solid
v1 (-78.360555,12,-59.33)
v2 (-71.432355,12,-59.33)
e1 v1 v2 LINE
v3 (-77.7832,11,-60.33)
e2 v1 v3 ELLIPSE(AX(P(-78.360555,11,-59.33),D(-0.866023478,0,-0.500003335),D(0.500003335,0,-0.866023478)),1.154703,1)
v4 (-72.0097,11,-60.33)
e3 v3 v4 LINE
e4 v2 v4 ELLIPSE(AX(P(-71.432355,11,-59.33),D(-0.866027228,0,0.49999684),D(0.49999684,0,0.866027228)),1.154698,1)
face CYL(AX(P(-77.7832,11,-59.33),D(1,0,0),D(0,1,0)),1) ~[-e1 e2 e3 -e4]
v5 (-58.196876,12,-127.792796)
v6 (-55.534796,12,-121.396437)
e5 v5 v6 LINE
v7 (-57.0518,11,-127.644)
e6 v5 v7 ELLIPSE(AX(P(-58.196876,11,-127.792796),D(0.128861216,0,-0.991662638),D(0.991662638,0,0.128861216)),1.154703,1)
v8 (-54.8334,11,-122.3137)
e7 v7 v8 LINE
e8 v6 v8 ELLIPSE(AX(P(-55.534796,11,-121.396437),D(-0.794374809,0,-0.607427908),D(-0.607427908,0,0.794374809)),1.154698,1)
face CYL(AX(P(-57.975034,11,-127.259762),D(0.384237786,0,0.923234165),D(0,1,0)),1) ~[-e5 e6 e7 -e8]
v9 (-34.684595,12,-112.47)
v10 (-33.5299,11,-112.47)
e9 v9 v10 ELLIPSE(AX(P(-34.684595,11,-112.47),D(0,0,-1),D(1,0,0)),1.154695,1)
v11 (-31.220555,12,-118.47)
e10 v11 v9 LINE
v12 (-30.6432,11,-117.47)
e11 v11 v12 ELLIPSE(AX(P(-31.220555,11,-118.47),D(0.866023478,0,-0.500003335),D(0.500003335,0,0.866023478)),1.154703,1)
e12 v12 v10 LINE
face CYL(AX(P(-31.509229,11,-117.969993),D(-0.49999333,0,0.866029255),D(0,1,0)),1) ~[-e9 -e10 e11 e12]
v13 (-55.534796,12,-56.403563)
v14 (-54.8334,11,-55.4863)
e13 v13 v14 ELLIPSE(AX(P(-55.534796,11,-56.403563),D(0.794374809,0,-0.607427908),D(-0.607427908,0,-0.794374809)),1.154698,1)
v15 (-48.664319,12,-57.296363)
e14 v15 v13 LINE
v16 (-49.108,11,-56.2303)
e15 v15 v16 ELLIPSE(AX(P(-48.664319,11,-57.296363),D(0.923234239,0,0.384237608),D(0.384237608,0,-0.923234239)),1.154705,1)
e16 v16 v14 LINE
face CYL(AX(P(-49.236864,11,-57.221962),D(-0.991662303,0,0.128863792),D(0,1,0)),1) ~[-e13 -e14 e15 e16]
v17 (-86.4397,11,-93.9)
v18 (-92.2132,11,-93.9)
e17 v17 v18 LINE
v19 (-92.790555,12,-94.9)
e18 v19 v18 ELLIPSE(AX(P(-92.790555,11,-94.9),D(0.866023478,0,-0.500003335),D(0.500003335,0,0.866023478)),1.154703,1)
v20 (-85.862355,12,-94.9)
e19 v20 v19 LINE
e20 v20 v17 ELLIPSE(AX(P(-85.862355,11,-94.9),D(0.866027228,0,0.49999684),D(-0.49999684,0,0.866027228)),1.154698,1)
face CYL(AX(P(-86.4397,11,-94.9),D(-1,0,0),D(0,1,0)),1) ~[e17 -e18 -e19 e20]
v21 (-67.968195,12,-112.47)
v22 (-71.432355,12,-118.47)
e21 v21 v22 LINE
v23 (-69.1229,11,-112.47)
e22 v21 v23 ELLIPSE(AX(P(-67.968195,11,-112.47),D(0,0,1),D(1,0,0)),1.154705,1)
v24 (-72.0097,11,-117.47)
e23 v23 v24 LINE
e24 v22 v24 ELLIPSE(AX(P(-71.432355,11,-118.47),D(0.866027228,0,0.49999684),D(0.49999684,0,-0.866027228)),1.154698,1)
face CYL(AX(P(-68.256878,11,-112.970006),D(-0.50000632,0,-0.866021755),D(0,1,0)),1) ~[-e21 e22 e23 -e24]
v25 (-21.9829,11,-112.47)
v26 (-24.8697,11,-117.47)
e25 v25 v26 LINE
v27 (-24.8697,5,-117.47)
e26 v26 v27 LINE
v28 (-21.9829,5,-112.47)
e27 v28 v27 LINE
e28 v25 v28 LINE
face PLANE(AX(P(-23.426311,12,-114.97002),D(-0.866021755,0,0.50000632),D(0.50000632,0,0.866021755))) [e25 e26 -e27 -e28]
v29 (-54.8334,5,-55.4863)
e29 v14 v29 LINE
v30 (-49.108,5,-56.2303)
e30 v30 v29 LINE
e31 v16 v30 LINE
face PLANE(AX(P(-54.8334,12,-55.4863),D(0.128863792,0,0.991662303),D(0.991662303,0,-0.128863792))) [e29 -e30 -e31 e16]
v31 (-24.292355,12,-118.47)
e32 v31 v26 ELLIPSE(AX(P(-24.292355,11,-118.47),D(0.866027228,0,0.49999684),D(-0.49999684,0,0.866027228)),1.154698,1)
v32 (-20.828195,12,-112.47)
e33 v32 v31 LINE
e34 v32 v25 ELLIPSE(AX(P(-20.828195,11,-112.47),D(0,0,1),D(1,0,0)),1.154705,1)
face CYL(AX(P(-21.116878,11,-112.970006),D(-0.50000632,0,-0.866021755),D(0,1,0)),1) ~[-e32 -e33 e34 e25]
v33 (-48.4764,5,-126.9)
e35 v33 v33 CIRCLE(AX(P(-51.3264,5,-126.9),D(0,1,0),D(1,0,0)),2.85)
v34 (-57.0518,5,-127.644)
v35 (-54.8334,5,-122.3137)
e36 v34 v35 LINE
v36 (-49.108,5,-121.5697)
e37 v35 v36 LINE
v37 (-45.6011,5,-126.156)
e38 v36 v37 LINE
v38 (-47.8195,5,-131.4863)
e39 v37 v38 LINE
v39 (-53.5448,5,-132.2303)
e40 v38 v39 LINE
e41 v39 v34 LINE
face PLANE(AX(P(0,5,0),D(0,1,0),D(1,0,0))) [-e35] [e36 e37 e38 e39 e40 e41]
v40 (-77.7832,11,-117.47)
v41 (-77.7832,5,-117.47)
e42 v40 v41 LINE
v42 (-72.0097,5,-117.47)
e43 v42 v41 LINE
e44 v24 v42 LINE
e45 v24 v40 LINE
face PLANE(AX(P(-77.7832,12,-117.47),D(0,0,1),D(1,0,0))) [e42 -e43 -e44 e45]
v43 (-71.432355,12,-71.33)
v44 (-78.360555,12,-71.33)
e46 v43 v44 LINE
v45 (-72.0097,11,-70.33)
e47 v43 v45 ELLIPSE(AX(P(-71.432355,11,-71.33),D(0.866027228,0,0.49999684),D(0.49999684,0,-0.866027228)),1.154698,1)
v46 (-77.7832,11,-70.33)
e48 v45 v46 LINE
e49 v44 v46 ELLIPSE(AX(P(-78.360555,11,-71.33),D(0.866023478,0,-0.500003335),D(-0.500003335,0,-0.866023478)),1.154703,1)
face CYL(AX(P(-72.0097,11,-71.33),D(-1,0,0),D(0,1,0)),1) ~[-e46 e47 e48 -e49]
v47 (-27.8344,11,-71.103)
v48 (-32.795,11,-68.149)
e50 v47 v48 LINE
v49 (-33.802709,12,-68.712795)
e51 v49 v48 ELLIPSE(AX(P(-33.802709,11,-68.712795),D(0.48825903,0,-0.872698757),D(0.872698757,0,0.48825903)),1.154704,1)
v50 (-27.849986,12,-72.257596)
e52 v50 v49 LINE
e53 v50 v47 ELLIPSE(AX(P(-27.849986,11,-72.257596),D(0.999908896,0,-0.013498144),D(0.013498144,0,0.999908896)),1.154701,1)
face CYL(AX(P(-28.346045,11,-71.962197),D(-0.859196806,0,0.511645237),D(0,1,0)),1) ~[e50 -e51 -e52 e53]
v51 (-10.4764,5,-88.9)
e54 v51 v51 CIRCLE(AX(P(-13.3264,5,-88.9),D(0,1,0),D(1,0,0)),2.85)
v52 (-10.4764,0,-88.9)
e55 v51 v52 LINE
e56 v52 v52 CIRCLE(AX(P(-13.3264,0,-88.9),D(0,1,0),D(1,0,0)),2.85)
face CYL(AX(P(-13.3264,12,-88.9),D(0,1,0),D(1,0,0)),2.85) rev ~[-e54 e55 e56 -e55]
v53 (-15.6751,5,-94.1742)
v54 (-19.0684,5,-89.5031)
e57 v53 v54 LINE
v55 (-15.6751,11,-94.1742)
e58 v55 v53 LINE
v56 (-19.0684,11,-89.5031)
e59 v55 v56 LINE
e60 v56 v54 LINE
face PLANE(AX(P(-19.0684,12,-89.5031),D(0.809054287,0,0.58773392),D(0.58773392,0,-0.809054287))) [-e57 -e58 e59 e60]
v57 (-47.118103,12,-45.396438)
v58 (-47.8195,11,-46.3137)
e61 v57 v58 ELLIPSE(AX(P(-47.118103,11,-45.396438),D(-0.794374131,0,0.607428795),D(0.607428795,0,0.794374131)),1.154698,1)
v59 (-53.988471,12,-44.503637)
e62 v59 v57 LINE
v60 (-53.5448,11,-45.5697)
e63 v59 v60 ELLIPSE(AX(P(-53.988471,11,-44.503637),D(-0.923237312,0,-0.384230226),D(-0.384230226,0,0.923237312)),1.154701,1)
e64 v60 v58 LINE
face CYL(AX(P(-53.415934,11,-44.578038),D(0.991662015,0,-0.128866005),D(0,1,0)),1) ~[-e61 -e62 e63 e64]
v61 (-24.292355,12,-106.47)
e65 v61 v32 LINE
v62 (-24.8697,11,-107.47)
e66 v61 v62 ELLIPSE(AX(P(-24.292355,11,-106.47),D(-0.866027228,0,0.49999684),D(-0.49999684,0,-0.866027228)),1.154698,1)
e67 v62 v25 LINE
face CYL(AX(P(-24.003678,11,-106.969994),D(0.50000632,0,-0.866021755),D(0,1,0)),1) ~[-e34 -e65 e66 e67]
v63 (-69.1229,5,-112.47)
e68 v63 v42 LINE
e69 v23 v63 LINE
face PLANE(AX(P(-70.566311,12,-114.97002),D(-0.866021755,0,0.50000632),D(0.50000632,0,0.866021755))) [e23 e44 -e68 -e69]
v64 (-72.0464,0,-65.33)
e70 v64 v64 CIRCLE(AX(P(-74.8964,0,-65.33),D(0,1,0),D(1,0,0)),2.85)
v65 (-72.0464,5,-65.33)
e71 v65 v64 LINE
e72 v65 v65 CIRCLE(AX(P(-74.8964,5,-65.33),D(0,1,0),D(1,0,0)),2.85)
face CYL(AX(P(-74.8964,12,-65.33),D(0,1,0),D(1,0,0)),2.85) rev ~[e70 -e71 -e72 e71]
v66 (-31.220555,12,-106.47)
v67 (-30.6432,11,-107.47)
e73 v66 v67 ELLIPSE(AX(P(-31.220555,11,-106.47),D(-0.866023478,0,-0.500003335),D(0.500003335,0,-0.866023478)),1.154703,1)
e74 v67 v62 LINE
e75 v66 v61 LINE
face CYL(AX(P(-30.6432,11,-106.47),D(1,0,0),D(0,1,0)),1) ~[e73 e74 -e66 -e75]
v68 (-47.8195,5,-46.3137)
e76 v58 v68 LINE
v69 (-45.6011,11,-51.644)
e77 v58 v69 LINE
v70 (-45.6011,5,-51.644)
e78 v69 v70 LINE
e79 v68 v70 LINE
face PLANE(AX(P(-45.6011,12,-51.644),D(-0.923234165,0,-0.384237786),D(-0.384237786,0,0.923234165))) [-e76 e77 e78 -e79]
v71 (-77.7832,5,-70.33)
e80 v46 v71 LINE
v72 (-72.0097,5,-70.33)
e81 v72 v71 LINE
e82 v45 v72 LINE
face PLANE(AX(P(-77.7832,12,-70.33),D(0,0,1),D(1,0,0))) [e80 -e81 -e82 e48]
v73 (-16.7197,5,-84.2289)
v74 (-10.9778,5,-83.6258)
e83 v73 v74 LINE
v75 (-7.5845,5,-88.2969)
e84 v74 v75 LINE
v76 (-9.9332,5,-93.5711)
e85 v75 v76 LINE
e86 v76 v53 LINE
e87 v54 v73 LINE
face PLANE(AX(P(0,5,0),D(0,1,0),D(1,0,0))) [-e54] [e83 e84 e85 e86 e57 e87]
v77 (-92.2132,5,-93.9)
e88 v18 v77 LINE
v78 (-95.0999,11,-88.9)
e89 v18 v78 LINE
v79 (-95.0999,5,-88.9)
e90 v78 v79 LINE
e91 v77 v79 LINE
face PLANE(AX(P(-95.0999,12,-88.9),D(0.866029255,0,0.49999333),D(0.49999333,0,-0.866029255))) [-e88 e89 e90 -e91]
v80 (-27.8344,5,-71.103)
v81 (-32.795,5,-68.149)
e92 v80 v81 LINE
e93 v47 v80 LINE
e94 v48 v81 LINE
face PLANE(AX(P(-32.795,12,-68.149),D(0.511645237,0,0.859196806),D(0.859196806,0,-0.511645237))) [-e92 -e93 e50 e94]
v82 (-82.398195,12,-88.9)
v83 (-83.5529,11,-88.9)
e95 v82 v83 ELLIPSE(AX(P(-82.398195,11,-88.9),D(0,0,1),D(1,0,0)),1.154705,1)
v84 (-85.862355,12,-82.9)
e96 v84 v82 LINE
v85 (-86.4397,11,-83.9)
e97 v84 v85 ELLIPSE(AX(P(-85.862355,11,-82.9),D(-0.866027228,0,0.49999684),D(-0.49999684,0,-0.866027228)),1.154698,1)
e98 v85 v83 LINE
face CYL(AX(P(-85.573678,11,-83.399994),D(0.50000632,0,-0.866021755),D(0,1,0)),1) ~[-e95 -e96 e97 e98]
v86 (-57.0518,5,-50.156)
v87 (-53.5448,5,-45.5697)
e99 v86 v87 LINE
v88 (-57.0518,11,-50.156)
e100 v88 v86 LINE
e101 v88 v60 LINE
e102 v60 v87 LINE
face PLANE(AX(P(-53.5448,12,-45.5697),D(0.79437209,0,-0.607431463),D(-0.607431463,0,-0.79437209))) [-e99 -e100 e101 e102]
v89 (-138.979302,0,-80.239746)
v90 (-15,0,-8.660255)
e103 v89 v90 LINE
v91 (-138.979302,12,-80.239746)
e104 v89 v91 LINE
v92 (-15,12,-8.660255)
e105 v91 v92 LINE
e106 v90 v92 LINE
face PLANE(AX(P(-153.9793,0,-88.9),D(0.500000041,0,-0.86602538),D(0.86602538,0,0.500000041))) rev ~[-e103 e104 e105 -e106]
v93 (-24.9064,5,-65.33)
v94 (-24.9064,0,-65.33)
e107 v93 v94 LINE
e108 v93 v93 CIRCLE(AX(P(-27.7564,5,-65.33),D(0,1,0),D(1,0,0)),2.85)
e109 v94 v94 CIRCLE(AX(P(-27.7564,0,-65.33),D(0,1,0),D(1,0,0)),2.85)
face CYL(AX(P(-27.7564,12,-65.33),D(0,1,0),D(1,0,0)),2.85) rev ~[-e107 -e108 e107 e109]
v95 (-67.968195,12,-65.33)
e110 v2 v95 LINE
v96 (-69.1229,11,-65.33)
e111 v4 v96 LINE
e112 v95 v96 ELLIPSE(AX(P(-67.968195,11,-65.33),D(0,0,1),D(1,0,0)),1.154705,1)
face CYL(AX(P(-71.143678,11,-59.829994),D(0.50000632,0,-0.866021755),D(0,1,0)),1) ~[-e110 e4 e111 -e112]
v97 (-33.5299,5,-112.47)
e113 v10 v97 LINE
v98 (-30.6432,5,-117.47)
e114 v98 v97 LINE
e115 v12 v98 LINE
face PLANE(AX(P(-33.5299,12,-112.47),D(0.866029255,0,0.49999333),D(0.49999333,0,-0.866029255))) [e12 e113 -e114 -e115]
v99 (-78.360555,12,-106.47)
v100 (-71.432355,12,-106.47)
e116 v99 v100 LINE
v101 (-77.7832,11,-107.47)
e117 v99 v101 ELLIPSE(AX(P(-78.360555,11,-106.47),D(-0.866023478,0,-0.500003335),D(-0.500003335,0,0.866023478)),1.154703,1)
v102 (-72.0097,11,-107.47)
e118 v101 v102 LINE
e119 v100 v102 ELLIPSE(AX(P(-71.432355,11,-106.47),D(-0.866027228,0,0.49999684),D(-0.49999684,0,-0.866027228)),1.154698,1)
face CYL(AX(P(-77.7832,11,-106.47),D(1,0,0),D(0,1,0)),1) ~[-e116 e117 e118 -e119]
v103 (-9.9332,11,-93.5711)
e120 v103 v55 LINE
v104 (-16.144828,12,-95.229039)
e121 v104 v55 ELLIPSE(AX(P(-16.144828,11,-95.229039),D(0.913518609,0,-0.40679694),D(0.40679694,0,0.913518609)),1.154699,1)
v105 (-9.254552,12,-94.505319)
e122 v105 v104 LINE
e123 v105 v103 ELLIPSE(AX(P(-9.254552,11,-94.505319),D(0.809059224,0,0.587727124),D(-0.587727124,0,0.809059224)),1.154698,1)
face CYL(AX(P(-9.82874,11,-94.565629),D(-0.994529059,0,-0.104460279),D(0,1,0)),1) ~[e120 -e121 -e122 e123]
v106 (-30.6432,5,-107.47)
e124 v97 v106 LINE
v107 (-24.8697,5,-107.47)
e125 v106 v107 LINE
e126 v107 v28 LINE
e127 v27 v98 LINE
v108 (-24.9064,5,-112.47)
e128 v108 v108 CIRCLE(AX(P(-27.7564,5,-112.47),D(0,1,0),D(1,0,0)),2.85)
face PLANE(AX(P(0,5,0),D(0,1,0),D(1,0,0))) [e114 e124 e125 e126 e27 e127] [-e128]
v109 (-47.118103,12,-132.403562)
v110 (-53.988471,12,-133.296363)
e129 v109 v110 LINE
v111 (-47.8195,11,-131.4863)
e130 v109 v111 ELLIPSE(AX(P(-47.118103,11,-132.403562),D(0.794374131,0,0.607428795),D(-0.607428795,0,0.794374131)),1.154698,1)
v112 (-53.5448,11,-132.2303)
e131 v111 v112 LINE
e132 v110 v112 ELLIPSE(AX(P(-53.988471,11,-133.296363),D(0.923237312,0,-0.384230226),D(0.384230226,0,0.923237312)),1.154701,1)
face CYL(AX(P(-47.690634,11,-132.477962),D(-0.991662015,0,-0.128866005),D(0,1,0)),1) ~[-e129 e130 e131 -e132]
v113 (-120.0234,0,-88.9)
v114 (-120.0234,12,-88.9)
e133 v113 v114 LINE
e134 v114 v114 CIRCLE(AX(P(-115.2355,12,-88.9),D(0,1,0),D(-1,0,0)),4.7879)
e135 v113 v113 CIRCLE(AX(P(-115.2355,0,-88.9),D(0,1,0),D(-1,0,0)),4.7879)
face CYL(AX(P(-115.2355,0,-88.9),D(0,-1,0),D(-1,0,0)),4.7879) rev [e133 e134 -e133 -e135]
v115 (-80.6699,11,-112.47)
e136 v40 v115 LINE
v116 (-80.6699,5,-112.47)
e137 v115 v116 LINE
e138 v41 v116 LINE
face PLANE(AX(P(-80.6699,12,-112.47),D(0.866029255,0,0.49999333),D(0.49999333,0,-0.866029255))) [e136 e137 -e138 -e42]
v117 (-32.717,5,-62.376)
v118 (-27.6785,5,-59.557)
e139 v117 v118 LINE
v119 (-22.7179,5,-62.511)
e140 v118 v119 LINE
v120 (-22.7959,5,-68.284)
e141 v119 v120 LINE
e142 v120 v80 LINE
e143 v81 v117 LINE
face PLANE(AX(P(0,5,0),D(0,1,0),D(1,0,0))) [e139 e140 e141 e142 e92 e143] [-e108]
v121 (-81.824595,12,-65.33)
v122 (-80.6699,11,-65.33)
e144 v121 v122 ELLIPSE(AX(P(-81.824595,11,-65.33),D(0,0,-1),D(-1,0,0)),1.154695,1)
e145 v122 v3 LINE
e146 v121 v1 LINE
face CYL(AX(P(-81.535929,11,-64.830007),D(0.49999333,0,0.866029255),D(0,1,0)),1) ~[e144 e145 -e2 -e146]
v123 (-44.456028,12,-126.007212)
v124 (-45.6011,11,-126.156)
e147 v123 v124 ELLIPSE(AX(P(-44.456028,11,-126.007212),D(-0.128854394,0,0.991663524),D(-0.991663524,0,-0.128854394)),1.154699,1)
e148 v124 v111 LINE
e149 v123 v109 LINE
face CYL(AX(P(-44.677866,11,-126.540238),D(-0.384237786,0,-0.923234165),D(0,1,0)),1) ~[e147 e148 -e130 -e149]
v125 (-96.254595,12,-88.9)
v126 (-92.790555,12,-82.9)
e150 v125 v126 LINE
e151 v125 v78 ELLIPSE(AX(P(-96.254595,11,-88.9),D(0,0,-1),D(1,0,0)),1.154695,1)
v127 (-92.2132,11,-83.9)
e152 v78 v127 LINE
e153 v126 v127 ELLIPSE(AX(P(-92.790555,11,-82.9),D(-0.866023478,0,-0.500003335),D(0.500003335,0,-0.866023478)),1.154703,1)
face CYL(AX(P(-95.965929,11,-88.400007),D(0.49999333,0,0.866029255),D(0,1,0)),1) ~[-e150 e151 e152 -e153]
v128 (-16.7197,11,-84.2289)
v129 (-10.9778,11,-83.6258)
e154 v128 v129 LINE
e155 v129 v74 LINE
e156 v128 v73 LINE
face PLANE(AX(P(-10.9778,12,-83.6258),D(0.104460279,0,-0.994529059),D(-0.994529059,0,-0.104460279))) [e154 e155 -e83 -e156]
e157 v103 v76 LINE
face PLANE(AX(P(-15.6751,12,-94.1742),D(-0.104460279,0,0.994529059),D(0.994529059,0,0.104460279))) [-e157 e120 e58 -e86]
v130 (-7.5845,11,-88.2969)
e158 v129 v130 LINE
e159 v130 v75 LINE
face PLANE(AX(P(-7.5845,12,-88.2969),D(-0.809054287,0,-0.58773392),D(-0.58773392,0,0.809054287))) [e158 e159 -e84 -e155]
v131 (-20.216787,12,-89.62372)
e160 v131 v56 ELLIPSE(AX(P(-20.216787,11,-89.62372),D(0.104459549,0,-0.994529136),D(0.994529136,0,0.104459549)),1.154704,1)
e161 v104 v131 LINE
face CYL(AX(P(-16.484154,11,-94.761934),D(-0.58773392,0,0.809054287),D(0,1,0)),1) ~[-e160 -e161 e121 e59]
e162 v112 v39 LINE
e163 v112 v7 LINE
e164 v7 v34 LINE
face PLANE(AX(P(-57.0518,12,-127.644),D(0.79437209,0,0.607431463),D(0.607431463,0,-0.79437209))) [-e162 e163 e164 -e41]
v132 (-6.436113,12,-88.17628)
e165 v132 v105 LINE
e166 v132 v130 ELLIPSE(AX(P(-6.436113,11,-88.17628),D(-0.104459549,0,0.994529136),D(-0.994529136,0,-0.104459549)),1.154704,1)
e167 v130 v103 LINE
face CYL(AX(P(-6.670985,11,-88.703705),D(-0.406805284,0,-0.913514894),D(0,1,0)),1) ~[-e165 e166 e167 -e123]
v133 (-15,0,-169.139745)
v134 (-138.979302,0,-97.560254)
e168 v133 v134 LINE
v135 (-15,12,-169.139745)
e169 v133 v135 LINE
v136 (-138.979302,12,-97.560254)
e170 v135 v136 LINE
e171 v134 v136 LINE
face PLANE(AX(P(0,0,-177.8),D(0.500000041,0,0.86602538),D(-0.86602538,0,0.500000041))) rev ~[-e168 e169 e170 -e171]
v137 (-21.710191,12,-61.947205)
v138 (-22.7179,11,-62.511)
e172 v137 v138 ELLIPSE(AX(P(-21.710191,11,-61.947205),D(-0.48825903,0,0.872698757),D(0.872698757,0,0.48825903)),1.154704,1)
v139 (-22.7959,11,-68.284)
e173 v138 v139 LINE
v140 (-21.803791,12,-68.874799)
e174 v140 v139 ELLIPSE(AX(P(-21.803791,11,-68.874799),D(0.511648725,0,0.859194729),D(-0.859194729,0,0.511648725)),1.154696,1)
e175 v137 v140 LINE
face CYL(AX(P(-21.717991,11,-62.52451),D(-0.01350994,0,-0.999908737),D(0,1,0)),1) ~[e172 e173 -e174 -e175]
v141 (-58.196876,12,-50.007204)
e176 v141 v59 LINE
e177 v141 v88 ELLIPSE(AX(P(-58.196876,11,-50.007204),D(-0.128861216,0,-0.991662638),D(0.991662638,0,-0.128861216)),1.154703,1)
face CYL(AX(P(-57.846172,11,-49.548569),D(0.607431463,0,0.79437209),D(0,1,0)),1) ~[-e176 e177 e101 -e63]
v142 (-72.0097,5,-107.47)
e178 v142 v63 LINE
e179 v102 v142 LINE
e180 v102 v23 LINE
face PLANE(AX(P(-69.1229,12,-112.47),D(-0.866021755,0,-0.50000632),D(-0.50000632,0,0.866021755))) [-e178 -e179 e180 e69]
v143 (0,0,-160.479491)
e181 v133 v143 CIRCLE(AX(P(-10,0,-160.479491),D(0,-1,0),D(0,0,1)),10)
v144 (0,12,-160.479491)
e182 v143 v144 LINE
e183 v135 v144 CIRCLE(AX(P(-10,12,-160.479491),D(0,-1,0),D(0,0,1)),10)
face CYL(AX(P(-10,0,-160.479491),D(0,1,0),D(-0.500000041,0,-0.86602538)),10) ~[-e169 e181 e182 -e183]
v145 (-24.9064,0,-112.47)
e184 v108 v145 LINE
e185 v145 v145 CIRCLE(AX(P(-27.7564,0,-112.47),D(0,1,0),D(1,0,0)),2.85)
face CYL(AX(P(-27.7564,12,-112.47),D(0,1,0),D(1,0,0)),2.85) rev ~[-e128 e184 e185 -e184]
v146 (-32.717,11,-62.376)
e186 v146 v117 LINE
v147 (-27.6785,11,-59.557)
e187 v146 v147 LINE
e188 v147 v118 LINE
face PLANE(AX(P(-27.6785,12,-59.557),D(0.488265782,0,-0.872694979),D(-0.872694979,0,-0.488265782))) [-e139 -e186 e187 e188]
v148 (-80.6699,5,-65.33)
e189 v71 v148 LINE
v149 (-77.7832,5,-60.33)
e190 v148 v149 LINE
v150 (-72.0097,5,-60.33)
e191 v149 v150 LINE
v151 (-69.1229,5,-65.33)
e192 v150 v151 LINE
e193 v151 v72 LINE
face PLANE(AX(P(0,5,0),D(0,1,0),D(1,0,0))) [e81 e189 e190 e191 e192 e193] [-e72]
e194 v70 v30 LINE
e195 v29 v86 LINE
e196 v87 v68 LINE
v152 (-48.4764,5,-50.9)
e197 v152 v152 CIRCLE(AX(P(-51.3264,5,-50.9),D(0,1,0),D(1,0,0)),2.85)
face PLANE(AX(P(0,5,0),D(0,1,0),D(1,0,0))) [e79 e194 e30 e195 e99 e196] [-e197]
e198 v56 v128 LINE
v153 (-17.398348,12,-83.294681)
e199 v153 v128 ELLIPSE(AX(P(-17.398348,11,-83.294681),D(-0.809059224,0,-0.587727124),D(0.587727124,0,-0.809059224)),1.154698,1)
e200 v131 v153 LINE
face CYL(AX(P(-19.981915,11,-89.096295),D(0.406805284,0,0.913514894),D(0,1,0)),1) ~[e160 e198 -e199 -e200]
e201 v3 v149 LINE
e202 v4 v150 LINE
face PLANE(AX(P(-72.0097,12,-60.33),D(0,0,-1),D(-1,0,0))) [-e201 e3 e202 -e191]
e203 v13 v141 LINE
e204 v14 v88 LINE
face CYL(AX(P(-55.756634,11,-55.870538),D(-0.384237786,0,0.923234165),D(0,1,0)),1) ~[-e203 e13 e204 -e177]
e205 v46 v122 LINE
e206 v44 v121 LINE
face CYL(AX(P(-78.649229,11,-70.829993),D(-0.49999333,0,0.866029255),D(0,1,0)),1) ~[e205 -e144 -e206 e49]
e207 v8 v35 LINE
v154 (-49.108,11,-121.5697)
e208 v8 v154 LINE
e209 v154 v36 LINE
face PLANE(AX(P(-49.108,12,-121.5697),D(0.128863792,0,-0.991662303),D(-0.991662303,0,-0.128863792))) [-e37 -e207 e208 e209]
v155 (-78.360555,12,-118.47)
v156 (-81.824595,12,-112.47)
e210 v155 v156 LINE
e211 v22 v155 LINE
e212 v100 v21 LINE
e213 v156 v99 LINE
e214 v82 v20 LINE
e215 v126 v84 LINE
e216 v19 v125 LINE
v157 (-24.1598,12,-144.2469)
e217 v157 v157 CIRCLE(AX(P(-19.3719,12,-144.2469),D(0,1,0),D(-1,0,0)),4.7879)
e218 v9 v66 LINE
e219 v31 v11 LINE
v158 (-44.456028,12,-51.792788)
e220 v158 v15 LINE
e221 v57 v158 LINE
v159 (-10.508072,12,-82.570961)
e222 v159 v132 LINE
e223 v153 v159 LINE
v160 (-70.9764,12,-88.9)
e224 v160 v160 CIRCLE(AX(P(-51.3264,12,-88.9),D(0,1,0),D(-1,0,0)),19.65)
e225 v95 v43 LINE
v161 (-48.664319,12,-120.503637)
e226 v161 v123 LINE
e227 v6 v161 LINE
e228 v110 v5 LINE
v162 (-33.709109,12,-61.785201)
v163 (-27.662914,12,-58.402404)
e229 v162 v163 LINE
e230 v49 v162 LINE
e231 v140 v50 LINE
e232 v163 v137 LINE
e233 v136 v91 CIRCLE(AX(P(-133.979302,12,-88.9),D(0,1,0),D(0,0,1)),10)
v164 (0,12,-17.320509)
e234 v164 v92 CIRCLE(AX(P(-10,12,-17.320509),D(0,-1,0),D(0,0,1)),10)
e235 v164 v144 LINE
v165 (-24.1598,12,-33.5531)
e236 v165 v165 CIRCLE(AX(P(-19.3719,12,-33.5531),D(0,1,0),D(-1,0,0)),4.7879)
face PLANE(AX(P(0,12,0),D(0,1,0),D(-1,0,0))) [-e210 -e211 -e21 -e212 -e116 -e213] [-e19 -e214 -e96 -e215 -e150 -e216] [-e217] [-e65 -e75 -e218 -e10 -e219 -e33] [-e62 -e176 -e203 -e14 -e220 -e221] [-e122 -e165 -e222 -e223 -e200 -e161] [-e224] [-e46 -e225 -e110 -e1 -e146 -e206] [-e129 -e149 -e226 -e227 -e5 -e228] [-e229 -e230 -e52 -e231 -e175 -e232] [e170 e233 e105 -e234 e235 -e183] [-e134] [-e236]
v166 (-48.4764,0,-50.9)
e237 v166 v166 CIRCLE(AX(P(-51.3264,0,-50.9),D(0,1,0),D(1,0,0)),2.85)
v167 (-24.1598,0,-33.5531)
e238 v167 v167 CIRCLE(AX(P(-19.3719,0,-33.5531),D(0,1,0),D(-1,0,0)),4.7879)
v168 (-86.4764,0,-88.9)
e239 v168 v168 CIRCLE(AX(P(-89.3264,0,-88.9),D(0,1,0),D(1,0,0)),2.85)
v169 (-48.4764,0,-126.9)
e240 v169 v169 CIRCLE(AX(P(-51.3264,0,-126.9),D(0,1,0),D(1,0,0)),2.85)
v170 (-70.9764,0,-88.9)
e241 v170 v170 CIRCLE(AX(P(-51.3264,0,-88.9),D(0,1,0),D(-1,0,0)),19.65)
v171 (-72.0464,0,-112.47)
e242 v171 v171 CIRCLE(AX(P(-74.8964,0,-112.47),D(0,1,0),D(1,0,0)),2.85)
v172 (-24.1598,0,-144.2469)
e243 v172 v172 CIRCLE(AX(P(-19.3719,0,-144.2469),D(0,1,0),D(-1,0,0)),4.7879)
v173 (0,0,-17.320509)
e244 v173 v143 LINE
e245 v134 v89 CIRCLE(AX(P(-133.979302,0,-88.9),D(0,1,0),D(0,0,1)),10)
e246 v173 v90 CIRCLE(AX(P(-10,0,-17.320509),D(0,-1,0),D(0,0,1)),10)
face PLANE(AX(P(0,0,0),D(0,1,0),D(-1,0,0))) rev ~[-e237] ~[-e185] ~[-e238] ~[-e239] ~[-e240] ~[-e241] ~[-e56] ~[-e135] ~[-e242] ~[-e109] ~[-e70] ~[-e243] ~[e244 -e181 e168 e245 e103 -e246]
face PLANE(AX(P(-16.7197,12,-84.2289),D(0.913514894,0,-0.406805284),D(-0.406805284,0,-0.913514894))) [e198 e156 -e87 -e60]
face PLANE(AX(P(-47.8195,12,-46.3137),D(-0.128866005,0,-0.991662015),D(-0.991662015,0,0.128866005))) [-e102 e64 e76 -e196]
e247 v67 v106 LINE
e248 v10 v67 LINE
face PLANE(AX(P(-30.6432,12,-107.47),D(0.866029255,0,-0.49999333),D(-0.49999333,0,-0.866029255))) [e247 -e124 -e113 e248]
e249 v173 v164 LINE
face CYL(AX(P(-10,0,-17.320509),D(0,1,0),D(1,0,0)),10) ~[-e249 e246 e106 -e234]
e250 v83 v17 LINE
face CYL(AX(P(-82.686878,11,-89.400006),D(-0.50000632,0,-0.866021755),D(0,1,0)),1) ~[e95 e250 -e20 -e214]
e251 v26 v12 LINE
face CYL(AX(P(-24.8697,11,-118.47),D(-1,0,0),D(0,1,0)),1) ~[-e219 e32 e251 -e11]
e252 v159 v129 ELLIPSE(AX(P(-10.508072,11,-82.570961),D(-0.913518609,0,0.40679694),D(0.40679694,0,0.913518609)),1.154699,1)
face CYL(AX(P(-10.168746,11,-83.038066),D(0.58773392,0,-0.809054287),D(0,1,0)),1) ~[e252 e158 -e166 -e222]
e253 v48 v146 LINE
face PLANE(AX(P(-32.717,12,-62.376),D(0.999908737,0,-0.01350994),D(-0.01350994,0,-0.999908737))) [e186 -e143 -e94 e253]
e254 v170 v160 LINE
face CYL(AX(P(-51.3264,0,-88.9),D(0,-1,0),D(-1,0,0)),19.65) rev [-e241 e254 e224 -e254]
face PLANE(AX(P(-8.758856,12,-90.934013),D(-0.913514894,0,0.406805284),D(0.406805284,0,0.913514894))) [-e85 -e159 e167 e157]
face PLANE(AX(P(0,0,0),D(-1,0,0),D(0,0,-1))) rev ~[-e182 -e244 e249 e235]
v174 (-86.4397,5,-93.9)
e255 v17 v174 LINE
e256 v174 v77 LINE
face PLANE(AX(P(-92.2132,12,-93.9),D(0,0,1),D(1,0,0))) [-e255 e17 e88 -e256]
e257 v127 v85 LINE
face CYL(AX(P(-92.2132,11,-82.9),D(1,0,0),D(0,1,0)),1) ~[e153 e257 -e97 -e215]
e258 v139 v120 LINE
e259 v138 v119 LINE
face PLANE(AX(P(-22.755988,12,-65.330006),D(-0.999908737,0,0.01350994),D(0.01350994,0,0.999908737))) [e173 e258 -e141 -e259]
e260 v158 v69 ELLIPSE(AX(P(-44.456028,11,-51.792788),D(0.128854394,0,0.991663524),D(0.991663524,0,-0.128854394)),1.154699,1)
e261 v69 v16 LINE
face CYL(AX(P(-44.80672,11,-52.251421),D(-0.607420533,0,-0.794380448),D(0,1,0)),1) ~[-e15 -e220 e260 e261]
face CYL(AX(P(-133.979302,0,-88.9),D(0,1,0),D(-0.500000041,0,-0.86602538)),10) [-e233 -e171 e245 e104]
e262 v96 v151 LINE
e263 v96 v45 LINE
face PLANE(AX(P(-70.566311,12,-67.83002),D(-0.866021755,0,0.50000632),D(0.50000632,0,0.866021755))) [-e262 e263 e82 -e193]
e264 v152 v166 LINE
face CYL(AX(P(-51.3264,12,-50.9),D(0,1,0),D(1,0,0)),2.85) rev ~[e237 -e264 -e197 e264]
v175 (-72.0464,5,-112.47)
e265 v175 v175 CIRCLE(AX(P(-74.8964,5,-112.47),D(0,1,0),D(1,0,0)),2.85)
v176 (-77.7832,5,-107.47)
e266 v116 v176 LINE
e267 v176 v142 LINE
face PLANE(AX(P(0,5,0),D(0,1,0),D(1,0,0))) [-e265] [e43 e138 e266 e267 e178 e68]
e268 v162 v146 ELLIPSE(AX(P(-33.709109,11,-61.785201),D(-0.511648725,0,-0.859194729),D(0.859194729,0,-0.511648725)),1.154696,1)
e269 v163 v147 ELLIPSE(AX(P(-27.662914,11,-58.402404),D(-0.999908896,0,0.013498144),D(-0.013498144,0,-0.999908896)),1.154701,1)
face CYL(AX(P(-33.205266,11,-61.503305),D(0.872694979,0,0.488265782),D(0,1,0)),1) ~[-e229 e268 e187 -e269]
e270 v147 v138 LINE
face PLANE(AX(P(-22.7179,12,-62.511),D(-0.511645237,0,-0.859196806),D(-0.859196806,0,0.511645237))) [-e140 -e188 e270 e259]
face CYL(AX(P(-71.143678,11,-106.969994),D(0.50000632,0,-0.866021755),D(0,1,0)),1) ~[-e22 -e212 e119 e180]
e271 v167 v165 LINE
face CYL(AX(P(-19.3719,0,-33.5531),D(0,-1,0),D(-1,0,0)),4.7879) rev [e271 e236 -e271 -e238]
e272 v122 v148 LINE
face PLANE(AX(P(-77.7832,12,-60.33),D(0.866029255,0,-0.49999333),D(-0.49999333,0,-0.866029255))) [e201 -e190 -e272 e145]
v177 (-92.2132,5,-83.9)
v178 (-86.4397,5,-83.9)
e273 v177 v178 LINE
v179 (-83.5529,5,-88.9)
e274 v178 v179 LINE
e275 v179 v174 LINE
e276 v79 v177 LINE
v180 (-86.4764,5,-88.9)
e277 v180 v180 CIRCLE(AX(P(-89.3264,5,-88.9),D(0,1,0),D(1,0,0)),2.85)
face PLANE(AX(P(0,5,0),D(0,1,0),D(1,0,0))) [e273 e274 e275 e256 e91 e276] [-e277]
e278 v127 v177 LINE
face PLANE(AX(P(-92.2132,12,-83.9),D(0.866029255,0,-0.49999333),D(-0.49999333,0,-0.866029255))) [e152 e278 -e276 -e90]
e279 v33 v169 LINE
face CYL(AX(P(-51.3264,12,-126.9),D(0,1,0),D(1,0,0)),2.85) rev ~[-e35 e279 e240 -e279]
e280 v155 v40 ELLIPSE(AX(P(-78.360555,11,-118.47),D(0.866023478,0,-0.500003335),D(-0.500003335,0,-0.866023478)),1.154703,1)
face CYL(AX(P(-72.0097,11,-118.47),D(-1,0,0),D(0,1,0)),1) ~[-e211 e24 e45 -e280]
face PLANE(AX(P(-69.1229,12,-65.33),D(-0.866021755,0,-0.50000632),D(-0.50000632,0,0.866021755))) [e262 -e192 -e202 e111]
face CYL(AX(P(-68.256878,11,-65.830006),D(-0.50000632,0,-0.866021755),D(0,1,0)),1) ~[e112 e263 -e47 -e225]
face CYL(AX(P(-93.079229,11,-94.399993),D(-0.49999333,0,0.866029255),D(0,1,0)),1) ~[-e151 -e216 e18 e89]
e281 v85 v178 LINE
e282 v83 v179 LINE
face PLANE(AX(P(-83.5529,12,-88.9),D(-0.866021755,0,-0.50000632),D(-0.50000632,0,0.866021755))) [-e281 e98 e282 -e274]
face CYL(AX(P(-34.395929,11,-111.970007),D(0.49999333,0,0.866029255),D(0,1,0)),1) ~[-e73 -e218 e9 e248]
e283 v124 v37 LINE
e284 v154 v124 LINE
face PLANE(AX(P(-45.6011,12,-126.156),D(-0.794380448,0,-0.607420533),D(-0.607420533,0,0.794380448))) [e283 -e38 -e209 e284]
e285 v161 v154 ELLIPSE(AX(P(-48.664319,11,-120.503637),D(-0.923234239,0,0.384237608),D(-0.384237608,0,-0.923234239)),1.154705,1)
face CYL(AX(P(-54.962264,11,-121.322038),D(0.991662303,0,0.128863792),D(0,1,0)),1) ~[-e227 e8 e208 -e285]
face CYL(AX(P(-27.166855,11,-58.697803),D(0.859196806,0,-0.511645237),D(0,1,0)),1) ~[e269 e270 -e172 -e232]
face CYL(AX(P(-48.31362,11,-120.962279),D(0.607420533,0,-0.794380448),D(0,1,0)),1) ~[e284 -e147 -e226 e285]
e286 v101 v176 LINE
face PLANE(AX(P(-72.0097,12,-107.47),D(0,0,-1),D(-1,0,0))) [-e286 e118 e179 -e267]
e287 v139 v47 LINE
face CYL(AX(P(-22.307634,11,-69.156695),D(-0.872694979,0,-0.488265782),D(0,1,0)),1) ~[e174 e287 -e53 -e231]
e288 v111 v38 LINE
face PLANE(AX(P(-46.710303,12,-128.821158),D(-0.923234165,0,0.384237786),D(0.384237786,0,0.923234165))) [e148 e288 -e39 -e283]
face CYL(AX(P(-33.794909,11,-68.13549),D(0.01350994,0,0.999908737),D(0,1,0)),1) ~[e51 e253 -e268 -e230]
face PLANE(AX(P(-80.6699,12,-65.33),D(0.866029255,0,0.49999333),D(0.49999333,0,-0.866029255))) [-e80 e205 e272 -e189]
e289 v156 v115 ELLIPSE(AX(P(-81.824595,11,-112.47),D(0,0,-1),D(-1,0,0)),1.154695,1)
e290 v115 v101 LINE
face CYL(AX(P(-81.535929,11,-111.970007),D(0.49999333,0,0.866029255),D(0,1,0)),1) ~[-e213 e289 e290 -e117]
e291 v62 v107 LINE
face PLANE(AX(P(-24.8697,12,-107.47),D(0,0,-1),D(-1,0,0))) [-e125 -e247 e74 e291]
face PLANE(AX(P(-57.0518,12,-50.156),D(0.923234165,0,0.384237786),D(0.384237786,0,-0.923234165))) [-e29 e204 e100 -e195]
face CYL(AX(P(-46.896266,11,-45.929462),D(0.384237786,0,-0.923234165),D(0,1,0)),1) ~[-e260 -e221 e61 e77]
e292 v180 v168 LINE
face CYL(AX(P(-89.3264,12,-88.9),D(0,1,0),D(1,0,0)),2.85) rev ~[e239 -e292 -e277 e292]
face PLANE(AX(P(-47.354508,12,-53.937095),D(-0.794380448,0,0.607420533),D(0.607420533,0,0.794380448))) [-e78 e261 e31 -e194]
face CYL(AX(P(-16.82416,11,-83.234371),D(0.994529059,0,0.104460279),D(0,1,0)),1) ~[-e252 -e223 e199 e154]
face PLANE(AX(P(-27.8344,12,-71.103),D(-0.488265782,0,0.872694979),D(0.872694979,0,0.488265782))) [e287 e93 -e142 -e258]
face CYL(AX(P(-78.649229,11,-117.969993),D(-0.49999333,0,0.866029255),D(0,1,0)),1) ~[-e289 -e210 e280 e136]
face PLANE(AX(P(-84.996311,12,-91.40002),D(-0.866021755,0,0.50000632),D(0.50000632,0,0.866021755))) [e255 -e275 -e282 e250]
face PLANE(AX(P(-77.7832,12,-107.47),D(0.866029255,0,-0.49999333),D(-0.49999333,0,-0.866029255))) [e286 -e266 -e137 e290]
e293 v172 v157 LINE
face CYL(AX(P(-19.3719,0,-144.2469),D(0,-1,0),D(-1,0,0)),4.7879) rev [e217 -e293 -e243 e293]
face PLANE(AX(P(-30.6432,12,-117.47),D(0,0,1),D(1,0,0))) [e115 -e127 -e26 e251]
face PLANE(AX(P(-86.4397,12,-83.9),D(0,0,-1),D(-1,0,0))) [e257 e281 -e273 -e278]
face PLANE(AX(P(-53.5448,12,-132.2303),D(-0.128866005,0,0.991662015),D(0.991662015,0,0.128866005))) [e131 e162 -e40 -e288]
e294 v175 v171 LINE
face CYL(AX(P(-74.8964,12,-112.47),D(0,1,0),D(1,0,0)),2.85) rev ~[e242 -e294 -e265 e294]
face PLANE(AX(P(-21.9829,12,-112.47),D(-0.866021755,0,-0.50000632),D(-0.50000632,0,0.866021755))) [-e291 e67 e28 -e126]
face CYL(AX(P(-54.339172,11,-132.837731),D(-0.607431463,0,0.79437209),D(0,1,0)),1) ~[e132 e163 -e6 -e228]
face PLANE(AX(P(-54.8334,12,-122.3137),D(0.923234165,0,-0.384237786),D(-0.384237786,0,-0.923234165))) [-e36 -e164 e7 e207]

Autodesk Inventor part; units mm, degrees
ref_plane "YZ Plane" through (0, 0, 0) normal (1, 0, 0) x (0, 1, 0)
ref_plane "XZ Plane" through (0, 0, 0) normal (0, 1, 0) x (-1, 0, 0)
ref_plane "XY Plane" through (0, 0, 0) normal (0, 0, 1) x (1, 0, 0)
sketch "Sketch1" plane through (0, 0, 0) normal (0, 1, 0) x (-1, 0, 0)
  line L0 (153.9793, -88.9) -> (0, 0)
  line L1 (0, 0) -> (0, -177.8)
  line L2 (0, -177.8) -> (153.9793, -88.9)
  circle A0 centre (51.3264, -88.9) radius 19.65
  line L3 (76.9897, -133.35) -> (61.1514, -105.9174) construction
  line L4 (76.9897, -44.45) -> (61.1514, -71.8826) construction
  line L5 (31.6764, -88.9) -> (0, -88.9) construction
  circle A1 centre (115.2355, -88.9) radius 6.1085
  circle A2 centre (19.3719, -144.2469) radius 6.1085
  circle A3 centre (19.3719, -33.5531) radius 6.1085
  line L6 (19.3719, -144.2469) -> (51.3264, -88.9) construction
  line L7 (51.3264, -88.9) -> (115.2355, -88.9) construction
  line L8 (51.3264, -88.9) -> (19.3719, -33.5531) construction
  arc A4 (19.8862, -150.3337) -> (18.8576, -150.3337) centre (19.3719, -150.3604) ccw
  arc A5 (21.7419, -149.8769) -> (20.7637, -150.1947) centre (21.2611, -150.0612) ccw
  arc A6 (23.3657, -148.8689) -> (22.5335, -149.4735) centre (22.9653, -149.1928) ccw
  arc A7 (24.5985, -147.4086) -> (23.9939, -148.2407) centre (24.3178, -147.8403) ccw
  arc A8 (25.3197, -145.6387) -> (25.0019, -146.617) centre (25.1862, -146.1361) ccw
  arc A9 (25.4587, -143.7326) -> (25.4587, -144.7612) centre (25.4854, -144.2469) ccw
  arc A10 (25.0019, -141.8768) -> (25.3197, -142.8551) centre (25.1862, -142.3577) ccw
  arc A11 (23.9939, -140.2531) -> (24.5985, -141.0853) centre (24.3178, -140.6535) ccw
  arc A12 (22.5335, -139.0203) -> (23.3657, -139.6249) centre (22.9653, -139.301) ccw
  arc A13 (20.7637, -138.2991) -> (21.7419, -138.6169) centre (21.2611, -138.4326) ccw
  arc A14 (18.8576, -138.1601) -> (19.8862, -138.1601) centre (19.3719, -138.1334) ccw
  arc A15 (17.0018, -138.6169) -> (17.9801, -138.2991) centre (17.4827, -138.4326) ccw
  arc A16 (15.3781, -139.6249) -> (16.2102, -139.0203) centre (15.7785, -139.301) ccw
  arc A17 (14.1452, -141.0853) -> (14.7499, -140.2531) centre (14.426, -140.6535) ccw
  arc A18 (13.4241, -142.8551) -> (13.7419, -141.8768) centre (13.5576, -142.3577) ccw
  arc A19 (13.2851, -144.7612) -> (13.2851, -143.7326) centre (13.2584, -144.2469) ccw
  arc A20 (13.7419, -146.617) -> (13.4241, -145.6387) centre (13.5576, -146.1361) ccw
  arc A21 (14.7499, -148.2407) -> (14.1452, -147.4086) centre (14.426, -147.8403) ccw
  arc A22 (16.2102, -149.4735) -> (15.3781, -148.8689) centre (15.7785, -149.1928) ccw
  arc A23 (17.9801, -150.1947) -> (17.0018, -149.8769) centre (17.4827, -150.0612) ccw
  arc A24 (121.0824, -87.1314) -> (121.2963, -88.1376) centre (121.2155, -87.6289) ccw
  arc A25 (120.2497, -85.4112) -> (120.764, -86.302) centre (120.53, -85.8432) ccw
  arc A26 (118.9262, -84.0325) -> (119.6906, -84.7208) centre (119.3263, -84.3568) ccw
  arc A27 (117.2414, -83.1302) -> (118.1811, -83.5486) centre (117.7221, -83.315) ccw
  arc A28 (115.3603, -82.7928) -> (116.3833, -82.9003) centre (115.8746, -82.82) ccw
  arc A29 (113.467, -83.0531) -> (114.4731, -82.8393) centre (113.9645, -82.9201) ccw
  arc A30 (111.7467, -83.8858) -> (112.6375, -83.3715) centre (112.1788, -83.6056) ccw
  arc A31 (110.368, -85.2093) -> (111.0563, -84.4449) centre (110.6923, -84.8093) ccw
  arc A32 (109.4658, -86.8941) -> (109.8842, -85.9544) centre (109.6506, -86.4134) ccw
  arc A33 (109.1283, -88.7752) -> (109.2358, -87.7523) centre (109.1555, -88.261) ccw
  arc A34 (113.2297, -94.6698) -> (112.29, -94.2514) centre (112.749, -94.485) ccw
  arc A35 (115.1108, -95.0072) -> (114.0878, -94.8997) centre (114.5965, -94.98) ccw
  arc A36 (117.0041, -94.7469) -> (115.998, -94.9607) centre (116.5066, -94.8799) ccw
  arc A37 (118.7244, -93.9142) -> (117.8336, -94.4285) centre (118.2923, -94.1944) ccw
  arc A38 (120.1031, -92.5907) -> (119.4148, -93.3551) centre (119.7788, -92.9907) ccw
  arc A39 (121.0053, -90.9059) -> (120.5869, -91.8456) centre (120.8205, -91.3866) ccw
  arc A40 (121.3428, -89.0248) -> (121.2353, -90.0477) centre (121.3156, -89.539) ccw
  arc A41 (111.5449, -93.7675) -> (110.7805, -93.0792) centre (111.1448, -93.4432) ccw
  arc A42 (110.2214, -92.3888) -> (109.7071, -91.498) centre (109.9411, -91.9567) ccw
  arc A43 (109.3887, -90.6686) -> (109.1748, -89.6624) centre (109.2556, -90.1711) ccw
  arc A44 (14.9168, -29.3738) -> (15.6812, -28.6856) centre (15.2812, -29.0099) ccw
  arc A45 (13.8434, -30.9551) -> (14.3577, -30.0643) centre (14.0774, -30.4963) ccw
  arc A46 (13.3112, -32.7906) -> (13.525, -31.7845) centre (13.392, -32.282) ccw
  arc A47 (13.3722, -34.7008) -> (13.2647, -33.6778) centre (13.2919, -34.1921) ccw
  arc A48 (14.0205, -36.4987) -> (13.6021, -35.559) centre (13.7869, -36.0397) ccw
  arc A49 (15.1926, -38.0082) -> (14.5044, -37.2438) centre (14.8287, -37.6438) ccw
  arc A50 (16.7739, -39.0816) -> (15.8831, -38.5673) centre (16.3151, -38.8475) ccw
  arc A51 (18.6094, -39.6138) -> (17.6033, -39.4) centre (18.1008, -39.533) ccw
  arc A52 (20.5196, -39.5528) -> (19.4966, -39.6603) centre (20.0109, -39.6331) ccw
  arc A53 (22.3175, -38.9045) -> (21.3778, -39.3229) centre (21.8585, -39.138) ccw
  arc A54 (25.3716, -32.4054) -> (25.4791, -33.4283) centre (25.4519, -32.9141) ccw
  arc A55 (24.7233, -30.6075) -> (25.1416, -31.5472) centre (24.9568, -31.0665) ccw
  arc A56 (23.5511, -29.098) -> (24.2394, -29.8624) centre (23.9151, -29.4624) ccw
  arc A57 (21.9699, -28.0246) -> (22.8607, -28.5389) centre (22.4286, -28.2586) ccw
  arc A58 (20.1343, -27.4924) -> (21.1405, -27.7062) centre (20.643, -27.5732) ccw
  arc A59 (18.2241, -27.5534) -> (19.2471, -27.4459) centre (18.7328, -27.4731) ccw
  arc A60 (16.4263, -28.2017) -> (17.366, -27.7833) centre (16.8853, -27.9681) ccw
  arc A61 (25.4326, -34.3155) -> (25.2188, -35.3217) centre (25.3518, -34.8242) ccw
  arc A62 (24.9004, -36.1511) -> (24.3861, -37.0419) centre (24.6663, -36.6098) ccw
  arc A63 (23.827, -37.7323) -> (23.0625, -38.4206) centre (23.4626, -38.0963) ccw
  circle A64 centre (19.3719, -144.2469) radius 4.7879
  circle A65 centre (115.2355, -88.9) radius 4.7879
  circle A66 centre (19.3719, -33.5531) radius 4.7879
  point P0 (21.7419, -149.8769)
  point P1 (23.3657, -148.8689)
  point P2 (22.5335, -149.4735)
  point P3 (24.5985, -147.4086)
  point P4 (25.0019, -141.8768)
  point P5 (25.3197, -142.8551)
  point P6 (23.9939, -140.2531)
  point P7 (22.5335, -139.0203)
  point P8 (23.3657, -139.6249)
  point P9 (20.7637, -138.2991)
  point P10 (21.7419, -138.6169)
  point P11 (19.8862, -138.1601)
  point P12 (17.9801, -138.2991)
  point P13 (15.3781, -139.6249)
  point P14 (16.2102, -139.0203)
  point P15 (14.1452, -141.0853)
  point P16 (14.7499, -140.2531)
  point P17 (13.2851, -144.7612)
  point P18 (13.7419, -146.617)
  point P19 (13.4241, -145.6387)
  point P20 (14.7499, -148.2407)
  point P21 (14.1452, -147.4086)
  point P22 (16.2102, -149.4735)
  point P23 (15.3781, -148.8689)
  point P24 (17.0018, -149.8769)
  point P25 (15.6812, -28.6856)
  point P26 (13.8434, -30.9551)
  point P27 (14.3577, -30.0643)
  point P28 (13.3112, -32.7906)
  point P29 (13.525, -31.7845)
  point P30 (14.0205, -36.4987)
  point P31 (15.1926, -38.0082)
  point P32 (14.5044, -37.2438)
  point P33 (16.7739, -39.0816)
  point P34 (15.8831, -38.5673)
  point P35 (18.6094, -39.6138)
  point P36 (17.6033, -39.4)
  point P37 (20.5196, -39.5528)
  point P38 (19.4966, -39.6603)
  point P39 (22.3175, -38.9045)
  point P40 (21.3778, -39.3229)
  point P41 (25.3716, -32.4054)
  point P42 (25.4791, -33.4283)
  point P43 (24.7233, -30.6075)
  point P44 (25.1416, -31.5472)
  point P45 (23.5511, -29.098)
  point P46 (24.2394, -29.8624)
  point P47 (21.9699, -28.0246)
  point P48 (22.8607, -28.5389)
  point P49 (20.1343, -27.4924)
  point P50 (21.1405, -27.7062)
  point P51 (18.2241, -27.5534)
  point P52 (16.4263, -28.2017)
  point P53 (17.366, -27.7833)
  point P54 (25.2188, -35.3217)
  point P55 (24.9004, -36.1511)
  point P56 (24.3861, -37.0419)
  point P57 (23.827, -37.7323)
  point P58 (23.0625, -38.4206)
  point P59 (121.0824, -87.1314)
  point P60 (120.764, -86.302)
  point P61 (118.1811, -83.5486)
  point P62 (115.3603, -82.7928)
  point P63 (116.3833, -82.9003)
  point P64 (111.7467, -83.8858)
  point P65 (112.6375, -83.3715)
  point P66 (109.8842, -85.9544)
  point P67 (109.2358, -87.7523)
  point P68 (121.3428, -89.0248)
  point P69 (110.2214, -92.3888)
  point P70 (109.7071, -91.498)
  point P71 (109.3887, -90.6686)
  point P72 (109.1748, -89.6624)
  point P73 (113.2297, -94.6698)
  point P74 (112.29, -94.2514)
  point P75 (115.1108, -95.0072)
  point P76 (117.0041, -94.7469)
  point P77 (117.8336, -94.4285)
  point P78 (119.4148, -93.3551)
  dimension "d4" = 12.217
  dimension "d0" = 177.8
  dimension "d1" = 39.3
  dimension "d2" = 102.6529
  dimension "d3" = 63.9091
  dimension "d5" = 120
  dimension "d6" = 120
  dimension "d11" = 0.515
  dimension "d15" = 360
  dimension "d19" = 360
  dimension "d55" = 9.5758
  dimension "d56" = 63.9091
  dimension "d59" = 360
extrude "Extrusion1" add sketch "Sketch1" along normal blind 12 contours L2 L1 L0 | A1 A40 A39 A38 A37 A36 A35 A34 A41 A42 A43 A33 A32 A31 A30 A29 A28 A27 A26 A25 A24 | A24 A1 | A1 A40 | A25 A1 | A1 A39 | A26 A1 | A1 A38 | A27 A1 | A1 A37 | A28 A1 | A1 A36 | A29 A1 | A1 A35 | A30 A1 | A1 A34 | A31 A1 | A1 A41 | A32 A1 | A1 A42 | A33 A1 | A1 A43 | A2 A9 | A9 A2 A8 A7 A6 A5 A4 A23 A22 A21 A20 A19 A18 A17 A16 A15 A14 A13 A12 A11 A10 | A10 A2 | A2 A8 | A11 A2 | A2 A7 | A12 A2 | A2 A6 | A13 A2 | A2 A5 | A14 A2 | A2 A4 | A15 A2 | A2 A23 | A16 A2 | A2 A22 | A17 A2 | A2 A21 | A18 A2 | A2 A20 | A19 A2 | A3 A61 A62 A63 A53 A52 A51 A50 A49 A48 A47 A46 A45 A44 A60 A59 A58 A57 A56 A55 A54 | A54 A3 | A3 A61 | A55 A3 | A3 A62 | A56 A3 | A3 A63 | A57 A3 | A3 A53 | A58 A3 | A3 A52 | A59 A3 | A3 A51 | A60 A3 | A3 A50 | A44 A3 | A3 A49 | A45 A3 | A3 A48 | A46 A3 | A3 A47
fillet "Fillet1" radius 10 3 edges at (0, 6, -177.8) (0, 6, 0) (-153.9793, 6, -88.9)
sketch "Sketch3" plane through (0, 12, 0) normal (0, 1, 0) x (1, 0, 0)
  circle A0 centre (-27.7564, 65.33) radius 2.85
  circle A1 centre (-74.8964, 65.33) radius 2.85
  circle A2 centre (-74.8964, 112.47) radius 2.85
  circle A3 centre (-27.7564, 112.47) radius 2.85
  circle A4 centre (-51.3264, 88.9) radius 19.65 projected
  circle A5 centre (-51.3264, 126.9) radius 2.85
  circle A6 centre (-89.3264, 88.9) radius 2.85
  circle A7 centre (-51.3264, 50.9) radius 2.85
  circle A8 centre (-13.3264, 88.9) radius 2.85
  circle A9 centre (-89.3264, 88.9) radius 5
  circle A10 centre (-51.3264, 50.9) radius 5
  circle A11 centre (-74.8964, 65.33) radius 5
  circle A12 centre (-27.7564, 65.33) radius 5
  circle A13 centre (-13.3264, 88.9) radius 5
  circle A14 centre (-74.8964, 112.47) radius 5
  circle A15 centre (-51.3264, 126.9) radius 5
  circle A16 centre (-27.7564, 112.47) radius 5
  line L0 (-47.8195, 46.3137) -> (-53.5448, 45.5697)
  line L1 (-53.5448, 45.5697) -> (-57.0518, 50.156)
  line L2 (-57.0518, 50.156) -> (-54.8334, 55.4863)
  line L3 (-54.8334, 55.4863) -> (-49.108, 56.2303)
  line L4 (-49.108, 56.2303) -> (-45.6011, 51.644)
  line L5 (-45.6011, 51.644) -> (-47.8195, 46.3137)
  line L6 (-22.7179, 62.511) -> (-27.6785, 59.557)
  line L7 (-27.6785, 59.557) -> (-32.717, 62.376)
  line L8 (-32.717, 62.376) -> (-32.795, 68.149)
  line L9 (-32.795, 68.149) -> (-27.8344, 71.103)
  line L10 (-27.8344, 71.103) -> (-22.7959, 68.284)
  line L11 (-22.7959, 68.284) -> (-22.7179, 62.511)
  line L12 (-10.9778, 83.6258) -> (-16.7197, 84.2289)
  line L13 (-16.7197, 84.2289) -> (-19.0684, 89.5031)
  line L14 (-19.0684, 89.5031) -> (-15.6751, 94.1742)
  line L15 (-15.6751, 94.1742) -> (-9.9332, 93.5711)
  line L16 (-9.9332, 93.5711) -> (-7.5845, 88.2969)
  line L17 (-7.5845, 88.2969) -> (-10.9778, 83.6258)
  line L18 (-21.9829, 112.47) -> (-24.8697, 107.47)
  line L19 (-24.8697, 107.47) -> (-30.6432, 107.47)
  line L20 (-30.6432, 107.47) -> (-33.5299, 112.47)
  line L21 (-33.5299, 112.47) -> (-30.6432, 117.47)
  line L22 (-30.6432, 117.47) -> (-24.8697, 117.47)
  line L23 (-24.8697, 117.47) -> (-21.9829, 112.47)
  line L24 (-45.6011, 126.156) -> (-49.108, 121.5697)
  line L25 (-49.108, 121.5697) -> (-54.8334, 122.3137)
  line L26 (-54.8334, 122.3137) -> (-57.0518, 127.644)
  line L27 (-57.0518, 127.644) -> (-53.5448, 132.2303)
  line L28 (-53.5448, 132.2303) -> (-47.8195, 131.4863)
  line L29 (-47.8195, 131.4863) -> (-45.6011, 126.156)
  line L30 (-72.0097, 107.47) -> (-77.7832, 107.47)
  line L31 (-77.7832, 107.47) -> (-80.6699, 112.47)
  line L32 (-80.6699, 112.47) -> (-77.7832, 117.47)
  line L33 (-77.7832, 117.47) -> (-72.0097, 117.47)
  line L34 (-72.0097, 117.47) -> (-69.1229, 112.47)
  line L35 (-69.1229, 112.47) -> (-72.0097, 107.47)
  line L36 (-83.5529, 88.9) -> (-86.4397, 83.9)
  line L37 (-86.4397, 83.9) -> (-92.2132, 83.9)
  line L38 (-92.2132, 83.9) -> (-95.0999, 88.9)
  line L39 (-95.0999, 88.9) -> (-92.2132, 93.9)
  line L40 (-92.2132, 93.9) -> (-86.4397, 93.9)
  line L41 (-86.4397, 93.9) -> (-83.5529, 88.9)
  line L42 (-69.1229, 65.33) -> (-72.0097, 60.33)
  line L43 (-72.0097, 60.33) -> (-77.7832, 60.33)
  line L44 (-77.7832, 60.33) -> (-80.6699, 65.33)
  line L45 (-80.6699, 65.33) -> (-77.7832, 70.33)
  line L46 (-77.7832, 70.33) -> (-72.0097, 70.33)
  line L47 (-72.0097, 70.33) -> (-69.1229, 65.33)
  point P0 (0, 0)
  point P1 (-24.0544, 68.6978)
  point P2 (-22.9739, 66.9833)
  point P3 (-78.5985, 68.6978)
  point P4 (-79.679, 66.9833)
  point P5 (-46.7103, 48.9788)
  point P6 (-22.7569, 65.3975)
  point P7 (-9.2811, 85.9614)
  point P8 (-23.4263, 114.97)
  point P9 (-46.7103, 128.8212)
  point P10 (-70.5663, 109.97)
  point P11 (-84.9963, 91.4)
  point P12 (-70.5663, 67.83)
  point P13 (-27.7564, 117.47)
  point P14 (-23.4263, 109.97)
  point P15 (-32.0866, 114.97)
  point P16 (-32.0866, 109.97)
  point P17 (-27.7564, 107.47)
  point P18 (-51.9707, 121.9417)
  point P19 (-47.3546, 123.8629)
  point P20 (-55.9426, 124.9788)
  point P21 (-55.2983, 129.9371)
  point P22 (-50.6822, 131.8583)
  point P23 (-70.5663, 114.97)
  point P24 (-74.8964, 107.47)
  point P25 (-74.8964, 117.47)
  point P26 (-79.2266, 114.97)
  point P27 (-79.2266, 109.97)
  point P28 (-89.3264, 83.9)
  point P29 (-84.9963, 86.4)
  point P30 (-93.6566, 86.4)
  point P31 (-93.6566, 91.4)
  point P32 (-89.3264, 93.9)
  point P33 (-17.894, 86.866)
  point P34 (-13.8487, 83.9274)
  point P35 (-17.3717, 91.8386)
  point P36 (-12.8042, 93.8726)
  point P37 (-8.7589, 90.934)
  point P38 (-74.8964, 70.33)
  point P39 (-70.5663, 62.83)
  point P40 (-79.2266, 67.83)
  point P41 (-79.2266, 62.83)
  point P42 (-74.8964, 60.33)
  point P43 (-25.3151, 69.6935)
  point P44 (-25.1982, 61.034)
  point P45 (-30.3147, 69.626)
  point P46 (-32.756, 65.2625)
  point P47 (-30.1977, 60.9665)
  point P48 (-55.2983, 47.8629)
  point P49 (-50.6822, 45.9417)
  point P50 (-55.9426, 52.8212)
  point P51 (-51.9707, 55.8583)
  point P52 (-47.3546, 53.9371)
  dimension "d41" = 10
  dimension "d21" = 5.7
  dimension "d22" = 5.7
  dimension "d23" = 47.14
  dimension "d24" = 47.14
  dimension "d25" = 23.57
  dimension "d26" = 23.57
  dimension "d27" = 5.7
  dimension "d51" = 38
  dimension "d52" = 38
  dimension "d53" = 38
  dimension "d54" = 38
extrude "Extrusion2" cut sketch "Sketch3" against normal through all contours A0 | A1 | A2 | A3 | A5 | A6 | A7 | A8
extrude "Extrusion3" cut sketch "Sketch3" against normal blind 7 contours A0 | A1 | A2 | A3 | A5 | A6 | A7 | A8 | A9 | A9 L41 L36 | A9 L40 L41 | L36 L37 A9 | A9 L39 L40 | L37 L38 A9 | A9 L38 L39 | A10 | A10 L4 L5 | A10 L3 L4 | L5 L0 A10 | A10 L2 L3 | L0 L1 A10 | A10 L1 L2 | A11 | A11 L47 L42 | A11 L46 L47 | L42 L43 A11 | A11 L45 L46 | L43 L44 A11 | A11 L44 L45 | A12 | L11 L6 A12 | A12 L10 L11 | A12 L9 L10 | L6 L7 A12 | A12 L8 L9 | L7 L8 A12 | A13 | A13 L16 L17 | A13 L15 L16 | L17 L12 A13 | A13 L14 L15 | L12 L13 A13 | A13 L13 L14 | A14 | A14 L34 L35 | A14 L33 L34 | L35 L30 A14 | A14 L32 L33 | L30 L31 A14 | A14 L31 L32 | A15 | A15 L29 L24 | A15 L28 L29 | L24 L25 A15 | A15 L27 L28 | L25 L26 A15 | A15 L26 L27 | A16 | A16 L23 L18 | A16 L22 L23 | L18 L19 A16 | A16 L21 L22 | L19 L20 A16 | A16 L20 L21
fillet "Fillet2" radius 1 48 edges at (-74.8964, 12, -60.33) (-70.5663, 12, -62.83) (-70.5663, 12, -67.83) (-74.8964, 12, -70.33) (-79.2266, 12, -67.83) (-79.2266, 12, -62.83) (-55.2983, 12, -47.8629) (-50.6822, 12, -45.9417) (-46.7103, 12, -48.9788) (-47.3546, 12, -53.9371) (-51.9707, 12, -55.8583) (-55.9426, 12, -52.8212) (-25.1982, 12, -61.034) (-30.1977, 12, -60.9665) (-32.756, 12, -65.2625) (-30.3147, 12, -69.626) (-25.3151, 12, -69.6935) (-22.7569, 12, -65.3975) (-13.8487, 12, -83.9274) (-17.894, 12, -86.866) (-17.3717, 12, -91.8386) (-12.8042, 12, -93.8726) (-8.7589, 12, -90.934) (-9.2811, 12, -85.9614) (-23.4263, 12, -109.97) (-27.7564, 12, -107.47) (-32.0866, 12, -109.97) (-32.0866, 12, -114.97) (-27.7564, 12, -117.47) (-23.4263, 12, -114.97) (-55.9426, 12, -124.9788) (-55.2983, 12, -129.9371) (-50.6822, 12, -131.8583) (-46.7103, 12, -128.8212) (-47.3546, 12, -123.8629) (-51.9707, 12, -121.9417) (-70.5663, 12, -109.97) (-70.5663, 12, -114.97) (-74.8964, 12, -117.47) (-79.2266, 12, -114.97) (-79.2266, 12, -109.97) (-74.8964, 12, -107.47) (-84.9963, 12, -86.4) (-89.3264, 12, -83.9) (-93.6566, 12, -86.4) (-93.6566, 12, -91.4) (-89.3264, 12, -93.9) (-84.9963, 12, -91.4)
equation "\"d24\" = d23"
equation "\"d25\" = 0.5 * d23"
equation "\"d26\" = 0.5 * d24"
equation "\"d52\" = d51"
equation "\"d53\" = d52"
equation "\"d54\" = d52"
properties part number "AP-1-02-planetCarrier"
